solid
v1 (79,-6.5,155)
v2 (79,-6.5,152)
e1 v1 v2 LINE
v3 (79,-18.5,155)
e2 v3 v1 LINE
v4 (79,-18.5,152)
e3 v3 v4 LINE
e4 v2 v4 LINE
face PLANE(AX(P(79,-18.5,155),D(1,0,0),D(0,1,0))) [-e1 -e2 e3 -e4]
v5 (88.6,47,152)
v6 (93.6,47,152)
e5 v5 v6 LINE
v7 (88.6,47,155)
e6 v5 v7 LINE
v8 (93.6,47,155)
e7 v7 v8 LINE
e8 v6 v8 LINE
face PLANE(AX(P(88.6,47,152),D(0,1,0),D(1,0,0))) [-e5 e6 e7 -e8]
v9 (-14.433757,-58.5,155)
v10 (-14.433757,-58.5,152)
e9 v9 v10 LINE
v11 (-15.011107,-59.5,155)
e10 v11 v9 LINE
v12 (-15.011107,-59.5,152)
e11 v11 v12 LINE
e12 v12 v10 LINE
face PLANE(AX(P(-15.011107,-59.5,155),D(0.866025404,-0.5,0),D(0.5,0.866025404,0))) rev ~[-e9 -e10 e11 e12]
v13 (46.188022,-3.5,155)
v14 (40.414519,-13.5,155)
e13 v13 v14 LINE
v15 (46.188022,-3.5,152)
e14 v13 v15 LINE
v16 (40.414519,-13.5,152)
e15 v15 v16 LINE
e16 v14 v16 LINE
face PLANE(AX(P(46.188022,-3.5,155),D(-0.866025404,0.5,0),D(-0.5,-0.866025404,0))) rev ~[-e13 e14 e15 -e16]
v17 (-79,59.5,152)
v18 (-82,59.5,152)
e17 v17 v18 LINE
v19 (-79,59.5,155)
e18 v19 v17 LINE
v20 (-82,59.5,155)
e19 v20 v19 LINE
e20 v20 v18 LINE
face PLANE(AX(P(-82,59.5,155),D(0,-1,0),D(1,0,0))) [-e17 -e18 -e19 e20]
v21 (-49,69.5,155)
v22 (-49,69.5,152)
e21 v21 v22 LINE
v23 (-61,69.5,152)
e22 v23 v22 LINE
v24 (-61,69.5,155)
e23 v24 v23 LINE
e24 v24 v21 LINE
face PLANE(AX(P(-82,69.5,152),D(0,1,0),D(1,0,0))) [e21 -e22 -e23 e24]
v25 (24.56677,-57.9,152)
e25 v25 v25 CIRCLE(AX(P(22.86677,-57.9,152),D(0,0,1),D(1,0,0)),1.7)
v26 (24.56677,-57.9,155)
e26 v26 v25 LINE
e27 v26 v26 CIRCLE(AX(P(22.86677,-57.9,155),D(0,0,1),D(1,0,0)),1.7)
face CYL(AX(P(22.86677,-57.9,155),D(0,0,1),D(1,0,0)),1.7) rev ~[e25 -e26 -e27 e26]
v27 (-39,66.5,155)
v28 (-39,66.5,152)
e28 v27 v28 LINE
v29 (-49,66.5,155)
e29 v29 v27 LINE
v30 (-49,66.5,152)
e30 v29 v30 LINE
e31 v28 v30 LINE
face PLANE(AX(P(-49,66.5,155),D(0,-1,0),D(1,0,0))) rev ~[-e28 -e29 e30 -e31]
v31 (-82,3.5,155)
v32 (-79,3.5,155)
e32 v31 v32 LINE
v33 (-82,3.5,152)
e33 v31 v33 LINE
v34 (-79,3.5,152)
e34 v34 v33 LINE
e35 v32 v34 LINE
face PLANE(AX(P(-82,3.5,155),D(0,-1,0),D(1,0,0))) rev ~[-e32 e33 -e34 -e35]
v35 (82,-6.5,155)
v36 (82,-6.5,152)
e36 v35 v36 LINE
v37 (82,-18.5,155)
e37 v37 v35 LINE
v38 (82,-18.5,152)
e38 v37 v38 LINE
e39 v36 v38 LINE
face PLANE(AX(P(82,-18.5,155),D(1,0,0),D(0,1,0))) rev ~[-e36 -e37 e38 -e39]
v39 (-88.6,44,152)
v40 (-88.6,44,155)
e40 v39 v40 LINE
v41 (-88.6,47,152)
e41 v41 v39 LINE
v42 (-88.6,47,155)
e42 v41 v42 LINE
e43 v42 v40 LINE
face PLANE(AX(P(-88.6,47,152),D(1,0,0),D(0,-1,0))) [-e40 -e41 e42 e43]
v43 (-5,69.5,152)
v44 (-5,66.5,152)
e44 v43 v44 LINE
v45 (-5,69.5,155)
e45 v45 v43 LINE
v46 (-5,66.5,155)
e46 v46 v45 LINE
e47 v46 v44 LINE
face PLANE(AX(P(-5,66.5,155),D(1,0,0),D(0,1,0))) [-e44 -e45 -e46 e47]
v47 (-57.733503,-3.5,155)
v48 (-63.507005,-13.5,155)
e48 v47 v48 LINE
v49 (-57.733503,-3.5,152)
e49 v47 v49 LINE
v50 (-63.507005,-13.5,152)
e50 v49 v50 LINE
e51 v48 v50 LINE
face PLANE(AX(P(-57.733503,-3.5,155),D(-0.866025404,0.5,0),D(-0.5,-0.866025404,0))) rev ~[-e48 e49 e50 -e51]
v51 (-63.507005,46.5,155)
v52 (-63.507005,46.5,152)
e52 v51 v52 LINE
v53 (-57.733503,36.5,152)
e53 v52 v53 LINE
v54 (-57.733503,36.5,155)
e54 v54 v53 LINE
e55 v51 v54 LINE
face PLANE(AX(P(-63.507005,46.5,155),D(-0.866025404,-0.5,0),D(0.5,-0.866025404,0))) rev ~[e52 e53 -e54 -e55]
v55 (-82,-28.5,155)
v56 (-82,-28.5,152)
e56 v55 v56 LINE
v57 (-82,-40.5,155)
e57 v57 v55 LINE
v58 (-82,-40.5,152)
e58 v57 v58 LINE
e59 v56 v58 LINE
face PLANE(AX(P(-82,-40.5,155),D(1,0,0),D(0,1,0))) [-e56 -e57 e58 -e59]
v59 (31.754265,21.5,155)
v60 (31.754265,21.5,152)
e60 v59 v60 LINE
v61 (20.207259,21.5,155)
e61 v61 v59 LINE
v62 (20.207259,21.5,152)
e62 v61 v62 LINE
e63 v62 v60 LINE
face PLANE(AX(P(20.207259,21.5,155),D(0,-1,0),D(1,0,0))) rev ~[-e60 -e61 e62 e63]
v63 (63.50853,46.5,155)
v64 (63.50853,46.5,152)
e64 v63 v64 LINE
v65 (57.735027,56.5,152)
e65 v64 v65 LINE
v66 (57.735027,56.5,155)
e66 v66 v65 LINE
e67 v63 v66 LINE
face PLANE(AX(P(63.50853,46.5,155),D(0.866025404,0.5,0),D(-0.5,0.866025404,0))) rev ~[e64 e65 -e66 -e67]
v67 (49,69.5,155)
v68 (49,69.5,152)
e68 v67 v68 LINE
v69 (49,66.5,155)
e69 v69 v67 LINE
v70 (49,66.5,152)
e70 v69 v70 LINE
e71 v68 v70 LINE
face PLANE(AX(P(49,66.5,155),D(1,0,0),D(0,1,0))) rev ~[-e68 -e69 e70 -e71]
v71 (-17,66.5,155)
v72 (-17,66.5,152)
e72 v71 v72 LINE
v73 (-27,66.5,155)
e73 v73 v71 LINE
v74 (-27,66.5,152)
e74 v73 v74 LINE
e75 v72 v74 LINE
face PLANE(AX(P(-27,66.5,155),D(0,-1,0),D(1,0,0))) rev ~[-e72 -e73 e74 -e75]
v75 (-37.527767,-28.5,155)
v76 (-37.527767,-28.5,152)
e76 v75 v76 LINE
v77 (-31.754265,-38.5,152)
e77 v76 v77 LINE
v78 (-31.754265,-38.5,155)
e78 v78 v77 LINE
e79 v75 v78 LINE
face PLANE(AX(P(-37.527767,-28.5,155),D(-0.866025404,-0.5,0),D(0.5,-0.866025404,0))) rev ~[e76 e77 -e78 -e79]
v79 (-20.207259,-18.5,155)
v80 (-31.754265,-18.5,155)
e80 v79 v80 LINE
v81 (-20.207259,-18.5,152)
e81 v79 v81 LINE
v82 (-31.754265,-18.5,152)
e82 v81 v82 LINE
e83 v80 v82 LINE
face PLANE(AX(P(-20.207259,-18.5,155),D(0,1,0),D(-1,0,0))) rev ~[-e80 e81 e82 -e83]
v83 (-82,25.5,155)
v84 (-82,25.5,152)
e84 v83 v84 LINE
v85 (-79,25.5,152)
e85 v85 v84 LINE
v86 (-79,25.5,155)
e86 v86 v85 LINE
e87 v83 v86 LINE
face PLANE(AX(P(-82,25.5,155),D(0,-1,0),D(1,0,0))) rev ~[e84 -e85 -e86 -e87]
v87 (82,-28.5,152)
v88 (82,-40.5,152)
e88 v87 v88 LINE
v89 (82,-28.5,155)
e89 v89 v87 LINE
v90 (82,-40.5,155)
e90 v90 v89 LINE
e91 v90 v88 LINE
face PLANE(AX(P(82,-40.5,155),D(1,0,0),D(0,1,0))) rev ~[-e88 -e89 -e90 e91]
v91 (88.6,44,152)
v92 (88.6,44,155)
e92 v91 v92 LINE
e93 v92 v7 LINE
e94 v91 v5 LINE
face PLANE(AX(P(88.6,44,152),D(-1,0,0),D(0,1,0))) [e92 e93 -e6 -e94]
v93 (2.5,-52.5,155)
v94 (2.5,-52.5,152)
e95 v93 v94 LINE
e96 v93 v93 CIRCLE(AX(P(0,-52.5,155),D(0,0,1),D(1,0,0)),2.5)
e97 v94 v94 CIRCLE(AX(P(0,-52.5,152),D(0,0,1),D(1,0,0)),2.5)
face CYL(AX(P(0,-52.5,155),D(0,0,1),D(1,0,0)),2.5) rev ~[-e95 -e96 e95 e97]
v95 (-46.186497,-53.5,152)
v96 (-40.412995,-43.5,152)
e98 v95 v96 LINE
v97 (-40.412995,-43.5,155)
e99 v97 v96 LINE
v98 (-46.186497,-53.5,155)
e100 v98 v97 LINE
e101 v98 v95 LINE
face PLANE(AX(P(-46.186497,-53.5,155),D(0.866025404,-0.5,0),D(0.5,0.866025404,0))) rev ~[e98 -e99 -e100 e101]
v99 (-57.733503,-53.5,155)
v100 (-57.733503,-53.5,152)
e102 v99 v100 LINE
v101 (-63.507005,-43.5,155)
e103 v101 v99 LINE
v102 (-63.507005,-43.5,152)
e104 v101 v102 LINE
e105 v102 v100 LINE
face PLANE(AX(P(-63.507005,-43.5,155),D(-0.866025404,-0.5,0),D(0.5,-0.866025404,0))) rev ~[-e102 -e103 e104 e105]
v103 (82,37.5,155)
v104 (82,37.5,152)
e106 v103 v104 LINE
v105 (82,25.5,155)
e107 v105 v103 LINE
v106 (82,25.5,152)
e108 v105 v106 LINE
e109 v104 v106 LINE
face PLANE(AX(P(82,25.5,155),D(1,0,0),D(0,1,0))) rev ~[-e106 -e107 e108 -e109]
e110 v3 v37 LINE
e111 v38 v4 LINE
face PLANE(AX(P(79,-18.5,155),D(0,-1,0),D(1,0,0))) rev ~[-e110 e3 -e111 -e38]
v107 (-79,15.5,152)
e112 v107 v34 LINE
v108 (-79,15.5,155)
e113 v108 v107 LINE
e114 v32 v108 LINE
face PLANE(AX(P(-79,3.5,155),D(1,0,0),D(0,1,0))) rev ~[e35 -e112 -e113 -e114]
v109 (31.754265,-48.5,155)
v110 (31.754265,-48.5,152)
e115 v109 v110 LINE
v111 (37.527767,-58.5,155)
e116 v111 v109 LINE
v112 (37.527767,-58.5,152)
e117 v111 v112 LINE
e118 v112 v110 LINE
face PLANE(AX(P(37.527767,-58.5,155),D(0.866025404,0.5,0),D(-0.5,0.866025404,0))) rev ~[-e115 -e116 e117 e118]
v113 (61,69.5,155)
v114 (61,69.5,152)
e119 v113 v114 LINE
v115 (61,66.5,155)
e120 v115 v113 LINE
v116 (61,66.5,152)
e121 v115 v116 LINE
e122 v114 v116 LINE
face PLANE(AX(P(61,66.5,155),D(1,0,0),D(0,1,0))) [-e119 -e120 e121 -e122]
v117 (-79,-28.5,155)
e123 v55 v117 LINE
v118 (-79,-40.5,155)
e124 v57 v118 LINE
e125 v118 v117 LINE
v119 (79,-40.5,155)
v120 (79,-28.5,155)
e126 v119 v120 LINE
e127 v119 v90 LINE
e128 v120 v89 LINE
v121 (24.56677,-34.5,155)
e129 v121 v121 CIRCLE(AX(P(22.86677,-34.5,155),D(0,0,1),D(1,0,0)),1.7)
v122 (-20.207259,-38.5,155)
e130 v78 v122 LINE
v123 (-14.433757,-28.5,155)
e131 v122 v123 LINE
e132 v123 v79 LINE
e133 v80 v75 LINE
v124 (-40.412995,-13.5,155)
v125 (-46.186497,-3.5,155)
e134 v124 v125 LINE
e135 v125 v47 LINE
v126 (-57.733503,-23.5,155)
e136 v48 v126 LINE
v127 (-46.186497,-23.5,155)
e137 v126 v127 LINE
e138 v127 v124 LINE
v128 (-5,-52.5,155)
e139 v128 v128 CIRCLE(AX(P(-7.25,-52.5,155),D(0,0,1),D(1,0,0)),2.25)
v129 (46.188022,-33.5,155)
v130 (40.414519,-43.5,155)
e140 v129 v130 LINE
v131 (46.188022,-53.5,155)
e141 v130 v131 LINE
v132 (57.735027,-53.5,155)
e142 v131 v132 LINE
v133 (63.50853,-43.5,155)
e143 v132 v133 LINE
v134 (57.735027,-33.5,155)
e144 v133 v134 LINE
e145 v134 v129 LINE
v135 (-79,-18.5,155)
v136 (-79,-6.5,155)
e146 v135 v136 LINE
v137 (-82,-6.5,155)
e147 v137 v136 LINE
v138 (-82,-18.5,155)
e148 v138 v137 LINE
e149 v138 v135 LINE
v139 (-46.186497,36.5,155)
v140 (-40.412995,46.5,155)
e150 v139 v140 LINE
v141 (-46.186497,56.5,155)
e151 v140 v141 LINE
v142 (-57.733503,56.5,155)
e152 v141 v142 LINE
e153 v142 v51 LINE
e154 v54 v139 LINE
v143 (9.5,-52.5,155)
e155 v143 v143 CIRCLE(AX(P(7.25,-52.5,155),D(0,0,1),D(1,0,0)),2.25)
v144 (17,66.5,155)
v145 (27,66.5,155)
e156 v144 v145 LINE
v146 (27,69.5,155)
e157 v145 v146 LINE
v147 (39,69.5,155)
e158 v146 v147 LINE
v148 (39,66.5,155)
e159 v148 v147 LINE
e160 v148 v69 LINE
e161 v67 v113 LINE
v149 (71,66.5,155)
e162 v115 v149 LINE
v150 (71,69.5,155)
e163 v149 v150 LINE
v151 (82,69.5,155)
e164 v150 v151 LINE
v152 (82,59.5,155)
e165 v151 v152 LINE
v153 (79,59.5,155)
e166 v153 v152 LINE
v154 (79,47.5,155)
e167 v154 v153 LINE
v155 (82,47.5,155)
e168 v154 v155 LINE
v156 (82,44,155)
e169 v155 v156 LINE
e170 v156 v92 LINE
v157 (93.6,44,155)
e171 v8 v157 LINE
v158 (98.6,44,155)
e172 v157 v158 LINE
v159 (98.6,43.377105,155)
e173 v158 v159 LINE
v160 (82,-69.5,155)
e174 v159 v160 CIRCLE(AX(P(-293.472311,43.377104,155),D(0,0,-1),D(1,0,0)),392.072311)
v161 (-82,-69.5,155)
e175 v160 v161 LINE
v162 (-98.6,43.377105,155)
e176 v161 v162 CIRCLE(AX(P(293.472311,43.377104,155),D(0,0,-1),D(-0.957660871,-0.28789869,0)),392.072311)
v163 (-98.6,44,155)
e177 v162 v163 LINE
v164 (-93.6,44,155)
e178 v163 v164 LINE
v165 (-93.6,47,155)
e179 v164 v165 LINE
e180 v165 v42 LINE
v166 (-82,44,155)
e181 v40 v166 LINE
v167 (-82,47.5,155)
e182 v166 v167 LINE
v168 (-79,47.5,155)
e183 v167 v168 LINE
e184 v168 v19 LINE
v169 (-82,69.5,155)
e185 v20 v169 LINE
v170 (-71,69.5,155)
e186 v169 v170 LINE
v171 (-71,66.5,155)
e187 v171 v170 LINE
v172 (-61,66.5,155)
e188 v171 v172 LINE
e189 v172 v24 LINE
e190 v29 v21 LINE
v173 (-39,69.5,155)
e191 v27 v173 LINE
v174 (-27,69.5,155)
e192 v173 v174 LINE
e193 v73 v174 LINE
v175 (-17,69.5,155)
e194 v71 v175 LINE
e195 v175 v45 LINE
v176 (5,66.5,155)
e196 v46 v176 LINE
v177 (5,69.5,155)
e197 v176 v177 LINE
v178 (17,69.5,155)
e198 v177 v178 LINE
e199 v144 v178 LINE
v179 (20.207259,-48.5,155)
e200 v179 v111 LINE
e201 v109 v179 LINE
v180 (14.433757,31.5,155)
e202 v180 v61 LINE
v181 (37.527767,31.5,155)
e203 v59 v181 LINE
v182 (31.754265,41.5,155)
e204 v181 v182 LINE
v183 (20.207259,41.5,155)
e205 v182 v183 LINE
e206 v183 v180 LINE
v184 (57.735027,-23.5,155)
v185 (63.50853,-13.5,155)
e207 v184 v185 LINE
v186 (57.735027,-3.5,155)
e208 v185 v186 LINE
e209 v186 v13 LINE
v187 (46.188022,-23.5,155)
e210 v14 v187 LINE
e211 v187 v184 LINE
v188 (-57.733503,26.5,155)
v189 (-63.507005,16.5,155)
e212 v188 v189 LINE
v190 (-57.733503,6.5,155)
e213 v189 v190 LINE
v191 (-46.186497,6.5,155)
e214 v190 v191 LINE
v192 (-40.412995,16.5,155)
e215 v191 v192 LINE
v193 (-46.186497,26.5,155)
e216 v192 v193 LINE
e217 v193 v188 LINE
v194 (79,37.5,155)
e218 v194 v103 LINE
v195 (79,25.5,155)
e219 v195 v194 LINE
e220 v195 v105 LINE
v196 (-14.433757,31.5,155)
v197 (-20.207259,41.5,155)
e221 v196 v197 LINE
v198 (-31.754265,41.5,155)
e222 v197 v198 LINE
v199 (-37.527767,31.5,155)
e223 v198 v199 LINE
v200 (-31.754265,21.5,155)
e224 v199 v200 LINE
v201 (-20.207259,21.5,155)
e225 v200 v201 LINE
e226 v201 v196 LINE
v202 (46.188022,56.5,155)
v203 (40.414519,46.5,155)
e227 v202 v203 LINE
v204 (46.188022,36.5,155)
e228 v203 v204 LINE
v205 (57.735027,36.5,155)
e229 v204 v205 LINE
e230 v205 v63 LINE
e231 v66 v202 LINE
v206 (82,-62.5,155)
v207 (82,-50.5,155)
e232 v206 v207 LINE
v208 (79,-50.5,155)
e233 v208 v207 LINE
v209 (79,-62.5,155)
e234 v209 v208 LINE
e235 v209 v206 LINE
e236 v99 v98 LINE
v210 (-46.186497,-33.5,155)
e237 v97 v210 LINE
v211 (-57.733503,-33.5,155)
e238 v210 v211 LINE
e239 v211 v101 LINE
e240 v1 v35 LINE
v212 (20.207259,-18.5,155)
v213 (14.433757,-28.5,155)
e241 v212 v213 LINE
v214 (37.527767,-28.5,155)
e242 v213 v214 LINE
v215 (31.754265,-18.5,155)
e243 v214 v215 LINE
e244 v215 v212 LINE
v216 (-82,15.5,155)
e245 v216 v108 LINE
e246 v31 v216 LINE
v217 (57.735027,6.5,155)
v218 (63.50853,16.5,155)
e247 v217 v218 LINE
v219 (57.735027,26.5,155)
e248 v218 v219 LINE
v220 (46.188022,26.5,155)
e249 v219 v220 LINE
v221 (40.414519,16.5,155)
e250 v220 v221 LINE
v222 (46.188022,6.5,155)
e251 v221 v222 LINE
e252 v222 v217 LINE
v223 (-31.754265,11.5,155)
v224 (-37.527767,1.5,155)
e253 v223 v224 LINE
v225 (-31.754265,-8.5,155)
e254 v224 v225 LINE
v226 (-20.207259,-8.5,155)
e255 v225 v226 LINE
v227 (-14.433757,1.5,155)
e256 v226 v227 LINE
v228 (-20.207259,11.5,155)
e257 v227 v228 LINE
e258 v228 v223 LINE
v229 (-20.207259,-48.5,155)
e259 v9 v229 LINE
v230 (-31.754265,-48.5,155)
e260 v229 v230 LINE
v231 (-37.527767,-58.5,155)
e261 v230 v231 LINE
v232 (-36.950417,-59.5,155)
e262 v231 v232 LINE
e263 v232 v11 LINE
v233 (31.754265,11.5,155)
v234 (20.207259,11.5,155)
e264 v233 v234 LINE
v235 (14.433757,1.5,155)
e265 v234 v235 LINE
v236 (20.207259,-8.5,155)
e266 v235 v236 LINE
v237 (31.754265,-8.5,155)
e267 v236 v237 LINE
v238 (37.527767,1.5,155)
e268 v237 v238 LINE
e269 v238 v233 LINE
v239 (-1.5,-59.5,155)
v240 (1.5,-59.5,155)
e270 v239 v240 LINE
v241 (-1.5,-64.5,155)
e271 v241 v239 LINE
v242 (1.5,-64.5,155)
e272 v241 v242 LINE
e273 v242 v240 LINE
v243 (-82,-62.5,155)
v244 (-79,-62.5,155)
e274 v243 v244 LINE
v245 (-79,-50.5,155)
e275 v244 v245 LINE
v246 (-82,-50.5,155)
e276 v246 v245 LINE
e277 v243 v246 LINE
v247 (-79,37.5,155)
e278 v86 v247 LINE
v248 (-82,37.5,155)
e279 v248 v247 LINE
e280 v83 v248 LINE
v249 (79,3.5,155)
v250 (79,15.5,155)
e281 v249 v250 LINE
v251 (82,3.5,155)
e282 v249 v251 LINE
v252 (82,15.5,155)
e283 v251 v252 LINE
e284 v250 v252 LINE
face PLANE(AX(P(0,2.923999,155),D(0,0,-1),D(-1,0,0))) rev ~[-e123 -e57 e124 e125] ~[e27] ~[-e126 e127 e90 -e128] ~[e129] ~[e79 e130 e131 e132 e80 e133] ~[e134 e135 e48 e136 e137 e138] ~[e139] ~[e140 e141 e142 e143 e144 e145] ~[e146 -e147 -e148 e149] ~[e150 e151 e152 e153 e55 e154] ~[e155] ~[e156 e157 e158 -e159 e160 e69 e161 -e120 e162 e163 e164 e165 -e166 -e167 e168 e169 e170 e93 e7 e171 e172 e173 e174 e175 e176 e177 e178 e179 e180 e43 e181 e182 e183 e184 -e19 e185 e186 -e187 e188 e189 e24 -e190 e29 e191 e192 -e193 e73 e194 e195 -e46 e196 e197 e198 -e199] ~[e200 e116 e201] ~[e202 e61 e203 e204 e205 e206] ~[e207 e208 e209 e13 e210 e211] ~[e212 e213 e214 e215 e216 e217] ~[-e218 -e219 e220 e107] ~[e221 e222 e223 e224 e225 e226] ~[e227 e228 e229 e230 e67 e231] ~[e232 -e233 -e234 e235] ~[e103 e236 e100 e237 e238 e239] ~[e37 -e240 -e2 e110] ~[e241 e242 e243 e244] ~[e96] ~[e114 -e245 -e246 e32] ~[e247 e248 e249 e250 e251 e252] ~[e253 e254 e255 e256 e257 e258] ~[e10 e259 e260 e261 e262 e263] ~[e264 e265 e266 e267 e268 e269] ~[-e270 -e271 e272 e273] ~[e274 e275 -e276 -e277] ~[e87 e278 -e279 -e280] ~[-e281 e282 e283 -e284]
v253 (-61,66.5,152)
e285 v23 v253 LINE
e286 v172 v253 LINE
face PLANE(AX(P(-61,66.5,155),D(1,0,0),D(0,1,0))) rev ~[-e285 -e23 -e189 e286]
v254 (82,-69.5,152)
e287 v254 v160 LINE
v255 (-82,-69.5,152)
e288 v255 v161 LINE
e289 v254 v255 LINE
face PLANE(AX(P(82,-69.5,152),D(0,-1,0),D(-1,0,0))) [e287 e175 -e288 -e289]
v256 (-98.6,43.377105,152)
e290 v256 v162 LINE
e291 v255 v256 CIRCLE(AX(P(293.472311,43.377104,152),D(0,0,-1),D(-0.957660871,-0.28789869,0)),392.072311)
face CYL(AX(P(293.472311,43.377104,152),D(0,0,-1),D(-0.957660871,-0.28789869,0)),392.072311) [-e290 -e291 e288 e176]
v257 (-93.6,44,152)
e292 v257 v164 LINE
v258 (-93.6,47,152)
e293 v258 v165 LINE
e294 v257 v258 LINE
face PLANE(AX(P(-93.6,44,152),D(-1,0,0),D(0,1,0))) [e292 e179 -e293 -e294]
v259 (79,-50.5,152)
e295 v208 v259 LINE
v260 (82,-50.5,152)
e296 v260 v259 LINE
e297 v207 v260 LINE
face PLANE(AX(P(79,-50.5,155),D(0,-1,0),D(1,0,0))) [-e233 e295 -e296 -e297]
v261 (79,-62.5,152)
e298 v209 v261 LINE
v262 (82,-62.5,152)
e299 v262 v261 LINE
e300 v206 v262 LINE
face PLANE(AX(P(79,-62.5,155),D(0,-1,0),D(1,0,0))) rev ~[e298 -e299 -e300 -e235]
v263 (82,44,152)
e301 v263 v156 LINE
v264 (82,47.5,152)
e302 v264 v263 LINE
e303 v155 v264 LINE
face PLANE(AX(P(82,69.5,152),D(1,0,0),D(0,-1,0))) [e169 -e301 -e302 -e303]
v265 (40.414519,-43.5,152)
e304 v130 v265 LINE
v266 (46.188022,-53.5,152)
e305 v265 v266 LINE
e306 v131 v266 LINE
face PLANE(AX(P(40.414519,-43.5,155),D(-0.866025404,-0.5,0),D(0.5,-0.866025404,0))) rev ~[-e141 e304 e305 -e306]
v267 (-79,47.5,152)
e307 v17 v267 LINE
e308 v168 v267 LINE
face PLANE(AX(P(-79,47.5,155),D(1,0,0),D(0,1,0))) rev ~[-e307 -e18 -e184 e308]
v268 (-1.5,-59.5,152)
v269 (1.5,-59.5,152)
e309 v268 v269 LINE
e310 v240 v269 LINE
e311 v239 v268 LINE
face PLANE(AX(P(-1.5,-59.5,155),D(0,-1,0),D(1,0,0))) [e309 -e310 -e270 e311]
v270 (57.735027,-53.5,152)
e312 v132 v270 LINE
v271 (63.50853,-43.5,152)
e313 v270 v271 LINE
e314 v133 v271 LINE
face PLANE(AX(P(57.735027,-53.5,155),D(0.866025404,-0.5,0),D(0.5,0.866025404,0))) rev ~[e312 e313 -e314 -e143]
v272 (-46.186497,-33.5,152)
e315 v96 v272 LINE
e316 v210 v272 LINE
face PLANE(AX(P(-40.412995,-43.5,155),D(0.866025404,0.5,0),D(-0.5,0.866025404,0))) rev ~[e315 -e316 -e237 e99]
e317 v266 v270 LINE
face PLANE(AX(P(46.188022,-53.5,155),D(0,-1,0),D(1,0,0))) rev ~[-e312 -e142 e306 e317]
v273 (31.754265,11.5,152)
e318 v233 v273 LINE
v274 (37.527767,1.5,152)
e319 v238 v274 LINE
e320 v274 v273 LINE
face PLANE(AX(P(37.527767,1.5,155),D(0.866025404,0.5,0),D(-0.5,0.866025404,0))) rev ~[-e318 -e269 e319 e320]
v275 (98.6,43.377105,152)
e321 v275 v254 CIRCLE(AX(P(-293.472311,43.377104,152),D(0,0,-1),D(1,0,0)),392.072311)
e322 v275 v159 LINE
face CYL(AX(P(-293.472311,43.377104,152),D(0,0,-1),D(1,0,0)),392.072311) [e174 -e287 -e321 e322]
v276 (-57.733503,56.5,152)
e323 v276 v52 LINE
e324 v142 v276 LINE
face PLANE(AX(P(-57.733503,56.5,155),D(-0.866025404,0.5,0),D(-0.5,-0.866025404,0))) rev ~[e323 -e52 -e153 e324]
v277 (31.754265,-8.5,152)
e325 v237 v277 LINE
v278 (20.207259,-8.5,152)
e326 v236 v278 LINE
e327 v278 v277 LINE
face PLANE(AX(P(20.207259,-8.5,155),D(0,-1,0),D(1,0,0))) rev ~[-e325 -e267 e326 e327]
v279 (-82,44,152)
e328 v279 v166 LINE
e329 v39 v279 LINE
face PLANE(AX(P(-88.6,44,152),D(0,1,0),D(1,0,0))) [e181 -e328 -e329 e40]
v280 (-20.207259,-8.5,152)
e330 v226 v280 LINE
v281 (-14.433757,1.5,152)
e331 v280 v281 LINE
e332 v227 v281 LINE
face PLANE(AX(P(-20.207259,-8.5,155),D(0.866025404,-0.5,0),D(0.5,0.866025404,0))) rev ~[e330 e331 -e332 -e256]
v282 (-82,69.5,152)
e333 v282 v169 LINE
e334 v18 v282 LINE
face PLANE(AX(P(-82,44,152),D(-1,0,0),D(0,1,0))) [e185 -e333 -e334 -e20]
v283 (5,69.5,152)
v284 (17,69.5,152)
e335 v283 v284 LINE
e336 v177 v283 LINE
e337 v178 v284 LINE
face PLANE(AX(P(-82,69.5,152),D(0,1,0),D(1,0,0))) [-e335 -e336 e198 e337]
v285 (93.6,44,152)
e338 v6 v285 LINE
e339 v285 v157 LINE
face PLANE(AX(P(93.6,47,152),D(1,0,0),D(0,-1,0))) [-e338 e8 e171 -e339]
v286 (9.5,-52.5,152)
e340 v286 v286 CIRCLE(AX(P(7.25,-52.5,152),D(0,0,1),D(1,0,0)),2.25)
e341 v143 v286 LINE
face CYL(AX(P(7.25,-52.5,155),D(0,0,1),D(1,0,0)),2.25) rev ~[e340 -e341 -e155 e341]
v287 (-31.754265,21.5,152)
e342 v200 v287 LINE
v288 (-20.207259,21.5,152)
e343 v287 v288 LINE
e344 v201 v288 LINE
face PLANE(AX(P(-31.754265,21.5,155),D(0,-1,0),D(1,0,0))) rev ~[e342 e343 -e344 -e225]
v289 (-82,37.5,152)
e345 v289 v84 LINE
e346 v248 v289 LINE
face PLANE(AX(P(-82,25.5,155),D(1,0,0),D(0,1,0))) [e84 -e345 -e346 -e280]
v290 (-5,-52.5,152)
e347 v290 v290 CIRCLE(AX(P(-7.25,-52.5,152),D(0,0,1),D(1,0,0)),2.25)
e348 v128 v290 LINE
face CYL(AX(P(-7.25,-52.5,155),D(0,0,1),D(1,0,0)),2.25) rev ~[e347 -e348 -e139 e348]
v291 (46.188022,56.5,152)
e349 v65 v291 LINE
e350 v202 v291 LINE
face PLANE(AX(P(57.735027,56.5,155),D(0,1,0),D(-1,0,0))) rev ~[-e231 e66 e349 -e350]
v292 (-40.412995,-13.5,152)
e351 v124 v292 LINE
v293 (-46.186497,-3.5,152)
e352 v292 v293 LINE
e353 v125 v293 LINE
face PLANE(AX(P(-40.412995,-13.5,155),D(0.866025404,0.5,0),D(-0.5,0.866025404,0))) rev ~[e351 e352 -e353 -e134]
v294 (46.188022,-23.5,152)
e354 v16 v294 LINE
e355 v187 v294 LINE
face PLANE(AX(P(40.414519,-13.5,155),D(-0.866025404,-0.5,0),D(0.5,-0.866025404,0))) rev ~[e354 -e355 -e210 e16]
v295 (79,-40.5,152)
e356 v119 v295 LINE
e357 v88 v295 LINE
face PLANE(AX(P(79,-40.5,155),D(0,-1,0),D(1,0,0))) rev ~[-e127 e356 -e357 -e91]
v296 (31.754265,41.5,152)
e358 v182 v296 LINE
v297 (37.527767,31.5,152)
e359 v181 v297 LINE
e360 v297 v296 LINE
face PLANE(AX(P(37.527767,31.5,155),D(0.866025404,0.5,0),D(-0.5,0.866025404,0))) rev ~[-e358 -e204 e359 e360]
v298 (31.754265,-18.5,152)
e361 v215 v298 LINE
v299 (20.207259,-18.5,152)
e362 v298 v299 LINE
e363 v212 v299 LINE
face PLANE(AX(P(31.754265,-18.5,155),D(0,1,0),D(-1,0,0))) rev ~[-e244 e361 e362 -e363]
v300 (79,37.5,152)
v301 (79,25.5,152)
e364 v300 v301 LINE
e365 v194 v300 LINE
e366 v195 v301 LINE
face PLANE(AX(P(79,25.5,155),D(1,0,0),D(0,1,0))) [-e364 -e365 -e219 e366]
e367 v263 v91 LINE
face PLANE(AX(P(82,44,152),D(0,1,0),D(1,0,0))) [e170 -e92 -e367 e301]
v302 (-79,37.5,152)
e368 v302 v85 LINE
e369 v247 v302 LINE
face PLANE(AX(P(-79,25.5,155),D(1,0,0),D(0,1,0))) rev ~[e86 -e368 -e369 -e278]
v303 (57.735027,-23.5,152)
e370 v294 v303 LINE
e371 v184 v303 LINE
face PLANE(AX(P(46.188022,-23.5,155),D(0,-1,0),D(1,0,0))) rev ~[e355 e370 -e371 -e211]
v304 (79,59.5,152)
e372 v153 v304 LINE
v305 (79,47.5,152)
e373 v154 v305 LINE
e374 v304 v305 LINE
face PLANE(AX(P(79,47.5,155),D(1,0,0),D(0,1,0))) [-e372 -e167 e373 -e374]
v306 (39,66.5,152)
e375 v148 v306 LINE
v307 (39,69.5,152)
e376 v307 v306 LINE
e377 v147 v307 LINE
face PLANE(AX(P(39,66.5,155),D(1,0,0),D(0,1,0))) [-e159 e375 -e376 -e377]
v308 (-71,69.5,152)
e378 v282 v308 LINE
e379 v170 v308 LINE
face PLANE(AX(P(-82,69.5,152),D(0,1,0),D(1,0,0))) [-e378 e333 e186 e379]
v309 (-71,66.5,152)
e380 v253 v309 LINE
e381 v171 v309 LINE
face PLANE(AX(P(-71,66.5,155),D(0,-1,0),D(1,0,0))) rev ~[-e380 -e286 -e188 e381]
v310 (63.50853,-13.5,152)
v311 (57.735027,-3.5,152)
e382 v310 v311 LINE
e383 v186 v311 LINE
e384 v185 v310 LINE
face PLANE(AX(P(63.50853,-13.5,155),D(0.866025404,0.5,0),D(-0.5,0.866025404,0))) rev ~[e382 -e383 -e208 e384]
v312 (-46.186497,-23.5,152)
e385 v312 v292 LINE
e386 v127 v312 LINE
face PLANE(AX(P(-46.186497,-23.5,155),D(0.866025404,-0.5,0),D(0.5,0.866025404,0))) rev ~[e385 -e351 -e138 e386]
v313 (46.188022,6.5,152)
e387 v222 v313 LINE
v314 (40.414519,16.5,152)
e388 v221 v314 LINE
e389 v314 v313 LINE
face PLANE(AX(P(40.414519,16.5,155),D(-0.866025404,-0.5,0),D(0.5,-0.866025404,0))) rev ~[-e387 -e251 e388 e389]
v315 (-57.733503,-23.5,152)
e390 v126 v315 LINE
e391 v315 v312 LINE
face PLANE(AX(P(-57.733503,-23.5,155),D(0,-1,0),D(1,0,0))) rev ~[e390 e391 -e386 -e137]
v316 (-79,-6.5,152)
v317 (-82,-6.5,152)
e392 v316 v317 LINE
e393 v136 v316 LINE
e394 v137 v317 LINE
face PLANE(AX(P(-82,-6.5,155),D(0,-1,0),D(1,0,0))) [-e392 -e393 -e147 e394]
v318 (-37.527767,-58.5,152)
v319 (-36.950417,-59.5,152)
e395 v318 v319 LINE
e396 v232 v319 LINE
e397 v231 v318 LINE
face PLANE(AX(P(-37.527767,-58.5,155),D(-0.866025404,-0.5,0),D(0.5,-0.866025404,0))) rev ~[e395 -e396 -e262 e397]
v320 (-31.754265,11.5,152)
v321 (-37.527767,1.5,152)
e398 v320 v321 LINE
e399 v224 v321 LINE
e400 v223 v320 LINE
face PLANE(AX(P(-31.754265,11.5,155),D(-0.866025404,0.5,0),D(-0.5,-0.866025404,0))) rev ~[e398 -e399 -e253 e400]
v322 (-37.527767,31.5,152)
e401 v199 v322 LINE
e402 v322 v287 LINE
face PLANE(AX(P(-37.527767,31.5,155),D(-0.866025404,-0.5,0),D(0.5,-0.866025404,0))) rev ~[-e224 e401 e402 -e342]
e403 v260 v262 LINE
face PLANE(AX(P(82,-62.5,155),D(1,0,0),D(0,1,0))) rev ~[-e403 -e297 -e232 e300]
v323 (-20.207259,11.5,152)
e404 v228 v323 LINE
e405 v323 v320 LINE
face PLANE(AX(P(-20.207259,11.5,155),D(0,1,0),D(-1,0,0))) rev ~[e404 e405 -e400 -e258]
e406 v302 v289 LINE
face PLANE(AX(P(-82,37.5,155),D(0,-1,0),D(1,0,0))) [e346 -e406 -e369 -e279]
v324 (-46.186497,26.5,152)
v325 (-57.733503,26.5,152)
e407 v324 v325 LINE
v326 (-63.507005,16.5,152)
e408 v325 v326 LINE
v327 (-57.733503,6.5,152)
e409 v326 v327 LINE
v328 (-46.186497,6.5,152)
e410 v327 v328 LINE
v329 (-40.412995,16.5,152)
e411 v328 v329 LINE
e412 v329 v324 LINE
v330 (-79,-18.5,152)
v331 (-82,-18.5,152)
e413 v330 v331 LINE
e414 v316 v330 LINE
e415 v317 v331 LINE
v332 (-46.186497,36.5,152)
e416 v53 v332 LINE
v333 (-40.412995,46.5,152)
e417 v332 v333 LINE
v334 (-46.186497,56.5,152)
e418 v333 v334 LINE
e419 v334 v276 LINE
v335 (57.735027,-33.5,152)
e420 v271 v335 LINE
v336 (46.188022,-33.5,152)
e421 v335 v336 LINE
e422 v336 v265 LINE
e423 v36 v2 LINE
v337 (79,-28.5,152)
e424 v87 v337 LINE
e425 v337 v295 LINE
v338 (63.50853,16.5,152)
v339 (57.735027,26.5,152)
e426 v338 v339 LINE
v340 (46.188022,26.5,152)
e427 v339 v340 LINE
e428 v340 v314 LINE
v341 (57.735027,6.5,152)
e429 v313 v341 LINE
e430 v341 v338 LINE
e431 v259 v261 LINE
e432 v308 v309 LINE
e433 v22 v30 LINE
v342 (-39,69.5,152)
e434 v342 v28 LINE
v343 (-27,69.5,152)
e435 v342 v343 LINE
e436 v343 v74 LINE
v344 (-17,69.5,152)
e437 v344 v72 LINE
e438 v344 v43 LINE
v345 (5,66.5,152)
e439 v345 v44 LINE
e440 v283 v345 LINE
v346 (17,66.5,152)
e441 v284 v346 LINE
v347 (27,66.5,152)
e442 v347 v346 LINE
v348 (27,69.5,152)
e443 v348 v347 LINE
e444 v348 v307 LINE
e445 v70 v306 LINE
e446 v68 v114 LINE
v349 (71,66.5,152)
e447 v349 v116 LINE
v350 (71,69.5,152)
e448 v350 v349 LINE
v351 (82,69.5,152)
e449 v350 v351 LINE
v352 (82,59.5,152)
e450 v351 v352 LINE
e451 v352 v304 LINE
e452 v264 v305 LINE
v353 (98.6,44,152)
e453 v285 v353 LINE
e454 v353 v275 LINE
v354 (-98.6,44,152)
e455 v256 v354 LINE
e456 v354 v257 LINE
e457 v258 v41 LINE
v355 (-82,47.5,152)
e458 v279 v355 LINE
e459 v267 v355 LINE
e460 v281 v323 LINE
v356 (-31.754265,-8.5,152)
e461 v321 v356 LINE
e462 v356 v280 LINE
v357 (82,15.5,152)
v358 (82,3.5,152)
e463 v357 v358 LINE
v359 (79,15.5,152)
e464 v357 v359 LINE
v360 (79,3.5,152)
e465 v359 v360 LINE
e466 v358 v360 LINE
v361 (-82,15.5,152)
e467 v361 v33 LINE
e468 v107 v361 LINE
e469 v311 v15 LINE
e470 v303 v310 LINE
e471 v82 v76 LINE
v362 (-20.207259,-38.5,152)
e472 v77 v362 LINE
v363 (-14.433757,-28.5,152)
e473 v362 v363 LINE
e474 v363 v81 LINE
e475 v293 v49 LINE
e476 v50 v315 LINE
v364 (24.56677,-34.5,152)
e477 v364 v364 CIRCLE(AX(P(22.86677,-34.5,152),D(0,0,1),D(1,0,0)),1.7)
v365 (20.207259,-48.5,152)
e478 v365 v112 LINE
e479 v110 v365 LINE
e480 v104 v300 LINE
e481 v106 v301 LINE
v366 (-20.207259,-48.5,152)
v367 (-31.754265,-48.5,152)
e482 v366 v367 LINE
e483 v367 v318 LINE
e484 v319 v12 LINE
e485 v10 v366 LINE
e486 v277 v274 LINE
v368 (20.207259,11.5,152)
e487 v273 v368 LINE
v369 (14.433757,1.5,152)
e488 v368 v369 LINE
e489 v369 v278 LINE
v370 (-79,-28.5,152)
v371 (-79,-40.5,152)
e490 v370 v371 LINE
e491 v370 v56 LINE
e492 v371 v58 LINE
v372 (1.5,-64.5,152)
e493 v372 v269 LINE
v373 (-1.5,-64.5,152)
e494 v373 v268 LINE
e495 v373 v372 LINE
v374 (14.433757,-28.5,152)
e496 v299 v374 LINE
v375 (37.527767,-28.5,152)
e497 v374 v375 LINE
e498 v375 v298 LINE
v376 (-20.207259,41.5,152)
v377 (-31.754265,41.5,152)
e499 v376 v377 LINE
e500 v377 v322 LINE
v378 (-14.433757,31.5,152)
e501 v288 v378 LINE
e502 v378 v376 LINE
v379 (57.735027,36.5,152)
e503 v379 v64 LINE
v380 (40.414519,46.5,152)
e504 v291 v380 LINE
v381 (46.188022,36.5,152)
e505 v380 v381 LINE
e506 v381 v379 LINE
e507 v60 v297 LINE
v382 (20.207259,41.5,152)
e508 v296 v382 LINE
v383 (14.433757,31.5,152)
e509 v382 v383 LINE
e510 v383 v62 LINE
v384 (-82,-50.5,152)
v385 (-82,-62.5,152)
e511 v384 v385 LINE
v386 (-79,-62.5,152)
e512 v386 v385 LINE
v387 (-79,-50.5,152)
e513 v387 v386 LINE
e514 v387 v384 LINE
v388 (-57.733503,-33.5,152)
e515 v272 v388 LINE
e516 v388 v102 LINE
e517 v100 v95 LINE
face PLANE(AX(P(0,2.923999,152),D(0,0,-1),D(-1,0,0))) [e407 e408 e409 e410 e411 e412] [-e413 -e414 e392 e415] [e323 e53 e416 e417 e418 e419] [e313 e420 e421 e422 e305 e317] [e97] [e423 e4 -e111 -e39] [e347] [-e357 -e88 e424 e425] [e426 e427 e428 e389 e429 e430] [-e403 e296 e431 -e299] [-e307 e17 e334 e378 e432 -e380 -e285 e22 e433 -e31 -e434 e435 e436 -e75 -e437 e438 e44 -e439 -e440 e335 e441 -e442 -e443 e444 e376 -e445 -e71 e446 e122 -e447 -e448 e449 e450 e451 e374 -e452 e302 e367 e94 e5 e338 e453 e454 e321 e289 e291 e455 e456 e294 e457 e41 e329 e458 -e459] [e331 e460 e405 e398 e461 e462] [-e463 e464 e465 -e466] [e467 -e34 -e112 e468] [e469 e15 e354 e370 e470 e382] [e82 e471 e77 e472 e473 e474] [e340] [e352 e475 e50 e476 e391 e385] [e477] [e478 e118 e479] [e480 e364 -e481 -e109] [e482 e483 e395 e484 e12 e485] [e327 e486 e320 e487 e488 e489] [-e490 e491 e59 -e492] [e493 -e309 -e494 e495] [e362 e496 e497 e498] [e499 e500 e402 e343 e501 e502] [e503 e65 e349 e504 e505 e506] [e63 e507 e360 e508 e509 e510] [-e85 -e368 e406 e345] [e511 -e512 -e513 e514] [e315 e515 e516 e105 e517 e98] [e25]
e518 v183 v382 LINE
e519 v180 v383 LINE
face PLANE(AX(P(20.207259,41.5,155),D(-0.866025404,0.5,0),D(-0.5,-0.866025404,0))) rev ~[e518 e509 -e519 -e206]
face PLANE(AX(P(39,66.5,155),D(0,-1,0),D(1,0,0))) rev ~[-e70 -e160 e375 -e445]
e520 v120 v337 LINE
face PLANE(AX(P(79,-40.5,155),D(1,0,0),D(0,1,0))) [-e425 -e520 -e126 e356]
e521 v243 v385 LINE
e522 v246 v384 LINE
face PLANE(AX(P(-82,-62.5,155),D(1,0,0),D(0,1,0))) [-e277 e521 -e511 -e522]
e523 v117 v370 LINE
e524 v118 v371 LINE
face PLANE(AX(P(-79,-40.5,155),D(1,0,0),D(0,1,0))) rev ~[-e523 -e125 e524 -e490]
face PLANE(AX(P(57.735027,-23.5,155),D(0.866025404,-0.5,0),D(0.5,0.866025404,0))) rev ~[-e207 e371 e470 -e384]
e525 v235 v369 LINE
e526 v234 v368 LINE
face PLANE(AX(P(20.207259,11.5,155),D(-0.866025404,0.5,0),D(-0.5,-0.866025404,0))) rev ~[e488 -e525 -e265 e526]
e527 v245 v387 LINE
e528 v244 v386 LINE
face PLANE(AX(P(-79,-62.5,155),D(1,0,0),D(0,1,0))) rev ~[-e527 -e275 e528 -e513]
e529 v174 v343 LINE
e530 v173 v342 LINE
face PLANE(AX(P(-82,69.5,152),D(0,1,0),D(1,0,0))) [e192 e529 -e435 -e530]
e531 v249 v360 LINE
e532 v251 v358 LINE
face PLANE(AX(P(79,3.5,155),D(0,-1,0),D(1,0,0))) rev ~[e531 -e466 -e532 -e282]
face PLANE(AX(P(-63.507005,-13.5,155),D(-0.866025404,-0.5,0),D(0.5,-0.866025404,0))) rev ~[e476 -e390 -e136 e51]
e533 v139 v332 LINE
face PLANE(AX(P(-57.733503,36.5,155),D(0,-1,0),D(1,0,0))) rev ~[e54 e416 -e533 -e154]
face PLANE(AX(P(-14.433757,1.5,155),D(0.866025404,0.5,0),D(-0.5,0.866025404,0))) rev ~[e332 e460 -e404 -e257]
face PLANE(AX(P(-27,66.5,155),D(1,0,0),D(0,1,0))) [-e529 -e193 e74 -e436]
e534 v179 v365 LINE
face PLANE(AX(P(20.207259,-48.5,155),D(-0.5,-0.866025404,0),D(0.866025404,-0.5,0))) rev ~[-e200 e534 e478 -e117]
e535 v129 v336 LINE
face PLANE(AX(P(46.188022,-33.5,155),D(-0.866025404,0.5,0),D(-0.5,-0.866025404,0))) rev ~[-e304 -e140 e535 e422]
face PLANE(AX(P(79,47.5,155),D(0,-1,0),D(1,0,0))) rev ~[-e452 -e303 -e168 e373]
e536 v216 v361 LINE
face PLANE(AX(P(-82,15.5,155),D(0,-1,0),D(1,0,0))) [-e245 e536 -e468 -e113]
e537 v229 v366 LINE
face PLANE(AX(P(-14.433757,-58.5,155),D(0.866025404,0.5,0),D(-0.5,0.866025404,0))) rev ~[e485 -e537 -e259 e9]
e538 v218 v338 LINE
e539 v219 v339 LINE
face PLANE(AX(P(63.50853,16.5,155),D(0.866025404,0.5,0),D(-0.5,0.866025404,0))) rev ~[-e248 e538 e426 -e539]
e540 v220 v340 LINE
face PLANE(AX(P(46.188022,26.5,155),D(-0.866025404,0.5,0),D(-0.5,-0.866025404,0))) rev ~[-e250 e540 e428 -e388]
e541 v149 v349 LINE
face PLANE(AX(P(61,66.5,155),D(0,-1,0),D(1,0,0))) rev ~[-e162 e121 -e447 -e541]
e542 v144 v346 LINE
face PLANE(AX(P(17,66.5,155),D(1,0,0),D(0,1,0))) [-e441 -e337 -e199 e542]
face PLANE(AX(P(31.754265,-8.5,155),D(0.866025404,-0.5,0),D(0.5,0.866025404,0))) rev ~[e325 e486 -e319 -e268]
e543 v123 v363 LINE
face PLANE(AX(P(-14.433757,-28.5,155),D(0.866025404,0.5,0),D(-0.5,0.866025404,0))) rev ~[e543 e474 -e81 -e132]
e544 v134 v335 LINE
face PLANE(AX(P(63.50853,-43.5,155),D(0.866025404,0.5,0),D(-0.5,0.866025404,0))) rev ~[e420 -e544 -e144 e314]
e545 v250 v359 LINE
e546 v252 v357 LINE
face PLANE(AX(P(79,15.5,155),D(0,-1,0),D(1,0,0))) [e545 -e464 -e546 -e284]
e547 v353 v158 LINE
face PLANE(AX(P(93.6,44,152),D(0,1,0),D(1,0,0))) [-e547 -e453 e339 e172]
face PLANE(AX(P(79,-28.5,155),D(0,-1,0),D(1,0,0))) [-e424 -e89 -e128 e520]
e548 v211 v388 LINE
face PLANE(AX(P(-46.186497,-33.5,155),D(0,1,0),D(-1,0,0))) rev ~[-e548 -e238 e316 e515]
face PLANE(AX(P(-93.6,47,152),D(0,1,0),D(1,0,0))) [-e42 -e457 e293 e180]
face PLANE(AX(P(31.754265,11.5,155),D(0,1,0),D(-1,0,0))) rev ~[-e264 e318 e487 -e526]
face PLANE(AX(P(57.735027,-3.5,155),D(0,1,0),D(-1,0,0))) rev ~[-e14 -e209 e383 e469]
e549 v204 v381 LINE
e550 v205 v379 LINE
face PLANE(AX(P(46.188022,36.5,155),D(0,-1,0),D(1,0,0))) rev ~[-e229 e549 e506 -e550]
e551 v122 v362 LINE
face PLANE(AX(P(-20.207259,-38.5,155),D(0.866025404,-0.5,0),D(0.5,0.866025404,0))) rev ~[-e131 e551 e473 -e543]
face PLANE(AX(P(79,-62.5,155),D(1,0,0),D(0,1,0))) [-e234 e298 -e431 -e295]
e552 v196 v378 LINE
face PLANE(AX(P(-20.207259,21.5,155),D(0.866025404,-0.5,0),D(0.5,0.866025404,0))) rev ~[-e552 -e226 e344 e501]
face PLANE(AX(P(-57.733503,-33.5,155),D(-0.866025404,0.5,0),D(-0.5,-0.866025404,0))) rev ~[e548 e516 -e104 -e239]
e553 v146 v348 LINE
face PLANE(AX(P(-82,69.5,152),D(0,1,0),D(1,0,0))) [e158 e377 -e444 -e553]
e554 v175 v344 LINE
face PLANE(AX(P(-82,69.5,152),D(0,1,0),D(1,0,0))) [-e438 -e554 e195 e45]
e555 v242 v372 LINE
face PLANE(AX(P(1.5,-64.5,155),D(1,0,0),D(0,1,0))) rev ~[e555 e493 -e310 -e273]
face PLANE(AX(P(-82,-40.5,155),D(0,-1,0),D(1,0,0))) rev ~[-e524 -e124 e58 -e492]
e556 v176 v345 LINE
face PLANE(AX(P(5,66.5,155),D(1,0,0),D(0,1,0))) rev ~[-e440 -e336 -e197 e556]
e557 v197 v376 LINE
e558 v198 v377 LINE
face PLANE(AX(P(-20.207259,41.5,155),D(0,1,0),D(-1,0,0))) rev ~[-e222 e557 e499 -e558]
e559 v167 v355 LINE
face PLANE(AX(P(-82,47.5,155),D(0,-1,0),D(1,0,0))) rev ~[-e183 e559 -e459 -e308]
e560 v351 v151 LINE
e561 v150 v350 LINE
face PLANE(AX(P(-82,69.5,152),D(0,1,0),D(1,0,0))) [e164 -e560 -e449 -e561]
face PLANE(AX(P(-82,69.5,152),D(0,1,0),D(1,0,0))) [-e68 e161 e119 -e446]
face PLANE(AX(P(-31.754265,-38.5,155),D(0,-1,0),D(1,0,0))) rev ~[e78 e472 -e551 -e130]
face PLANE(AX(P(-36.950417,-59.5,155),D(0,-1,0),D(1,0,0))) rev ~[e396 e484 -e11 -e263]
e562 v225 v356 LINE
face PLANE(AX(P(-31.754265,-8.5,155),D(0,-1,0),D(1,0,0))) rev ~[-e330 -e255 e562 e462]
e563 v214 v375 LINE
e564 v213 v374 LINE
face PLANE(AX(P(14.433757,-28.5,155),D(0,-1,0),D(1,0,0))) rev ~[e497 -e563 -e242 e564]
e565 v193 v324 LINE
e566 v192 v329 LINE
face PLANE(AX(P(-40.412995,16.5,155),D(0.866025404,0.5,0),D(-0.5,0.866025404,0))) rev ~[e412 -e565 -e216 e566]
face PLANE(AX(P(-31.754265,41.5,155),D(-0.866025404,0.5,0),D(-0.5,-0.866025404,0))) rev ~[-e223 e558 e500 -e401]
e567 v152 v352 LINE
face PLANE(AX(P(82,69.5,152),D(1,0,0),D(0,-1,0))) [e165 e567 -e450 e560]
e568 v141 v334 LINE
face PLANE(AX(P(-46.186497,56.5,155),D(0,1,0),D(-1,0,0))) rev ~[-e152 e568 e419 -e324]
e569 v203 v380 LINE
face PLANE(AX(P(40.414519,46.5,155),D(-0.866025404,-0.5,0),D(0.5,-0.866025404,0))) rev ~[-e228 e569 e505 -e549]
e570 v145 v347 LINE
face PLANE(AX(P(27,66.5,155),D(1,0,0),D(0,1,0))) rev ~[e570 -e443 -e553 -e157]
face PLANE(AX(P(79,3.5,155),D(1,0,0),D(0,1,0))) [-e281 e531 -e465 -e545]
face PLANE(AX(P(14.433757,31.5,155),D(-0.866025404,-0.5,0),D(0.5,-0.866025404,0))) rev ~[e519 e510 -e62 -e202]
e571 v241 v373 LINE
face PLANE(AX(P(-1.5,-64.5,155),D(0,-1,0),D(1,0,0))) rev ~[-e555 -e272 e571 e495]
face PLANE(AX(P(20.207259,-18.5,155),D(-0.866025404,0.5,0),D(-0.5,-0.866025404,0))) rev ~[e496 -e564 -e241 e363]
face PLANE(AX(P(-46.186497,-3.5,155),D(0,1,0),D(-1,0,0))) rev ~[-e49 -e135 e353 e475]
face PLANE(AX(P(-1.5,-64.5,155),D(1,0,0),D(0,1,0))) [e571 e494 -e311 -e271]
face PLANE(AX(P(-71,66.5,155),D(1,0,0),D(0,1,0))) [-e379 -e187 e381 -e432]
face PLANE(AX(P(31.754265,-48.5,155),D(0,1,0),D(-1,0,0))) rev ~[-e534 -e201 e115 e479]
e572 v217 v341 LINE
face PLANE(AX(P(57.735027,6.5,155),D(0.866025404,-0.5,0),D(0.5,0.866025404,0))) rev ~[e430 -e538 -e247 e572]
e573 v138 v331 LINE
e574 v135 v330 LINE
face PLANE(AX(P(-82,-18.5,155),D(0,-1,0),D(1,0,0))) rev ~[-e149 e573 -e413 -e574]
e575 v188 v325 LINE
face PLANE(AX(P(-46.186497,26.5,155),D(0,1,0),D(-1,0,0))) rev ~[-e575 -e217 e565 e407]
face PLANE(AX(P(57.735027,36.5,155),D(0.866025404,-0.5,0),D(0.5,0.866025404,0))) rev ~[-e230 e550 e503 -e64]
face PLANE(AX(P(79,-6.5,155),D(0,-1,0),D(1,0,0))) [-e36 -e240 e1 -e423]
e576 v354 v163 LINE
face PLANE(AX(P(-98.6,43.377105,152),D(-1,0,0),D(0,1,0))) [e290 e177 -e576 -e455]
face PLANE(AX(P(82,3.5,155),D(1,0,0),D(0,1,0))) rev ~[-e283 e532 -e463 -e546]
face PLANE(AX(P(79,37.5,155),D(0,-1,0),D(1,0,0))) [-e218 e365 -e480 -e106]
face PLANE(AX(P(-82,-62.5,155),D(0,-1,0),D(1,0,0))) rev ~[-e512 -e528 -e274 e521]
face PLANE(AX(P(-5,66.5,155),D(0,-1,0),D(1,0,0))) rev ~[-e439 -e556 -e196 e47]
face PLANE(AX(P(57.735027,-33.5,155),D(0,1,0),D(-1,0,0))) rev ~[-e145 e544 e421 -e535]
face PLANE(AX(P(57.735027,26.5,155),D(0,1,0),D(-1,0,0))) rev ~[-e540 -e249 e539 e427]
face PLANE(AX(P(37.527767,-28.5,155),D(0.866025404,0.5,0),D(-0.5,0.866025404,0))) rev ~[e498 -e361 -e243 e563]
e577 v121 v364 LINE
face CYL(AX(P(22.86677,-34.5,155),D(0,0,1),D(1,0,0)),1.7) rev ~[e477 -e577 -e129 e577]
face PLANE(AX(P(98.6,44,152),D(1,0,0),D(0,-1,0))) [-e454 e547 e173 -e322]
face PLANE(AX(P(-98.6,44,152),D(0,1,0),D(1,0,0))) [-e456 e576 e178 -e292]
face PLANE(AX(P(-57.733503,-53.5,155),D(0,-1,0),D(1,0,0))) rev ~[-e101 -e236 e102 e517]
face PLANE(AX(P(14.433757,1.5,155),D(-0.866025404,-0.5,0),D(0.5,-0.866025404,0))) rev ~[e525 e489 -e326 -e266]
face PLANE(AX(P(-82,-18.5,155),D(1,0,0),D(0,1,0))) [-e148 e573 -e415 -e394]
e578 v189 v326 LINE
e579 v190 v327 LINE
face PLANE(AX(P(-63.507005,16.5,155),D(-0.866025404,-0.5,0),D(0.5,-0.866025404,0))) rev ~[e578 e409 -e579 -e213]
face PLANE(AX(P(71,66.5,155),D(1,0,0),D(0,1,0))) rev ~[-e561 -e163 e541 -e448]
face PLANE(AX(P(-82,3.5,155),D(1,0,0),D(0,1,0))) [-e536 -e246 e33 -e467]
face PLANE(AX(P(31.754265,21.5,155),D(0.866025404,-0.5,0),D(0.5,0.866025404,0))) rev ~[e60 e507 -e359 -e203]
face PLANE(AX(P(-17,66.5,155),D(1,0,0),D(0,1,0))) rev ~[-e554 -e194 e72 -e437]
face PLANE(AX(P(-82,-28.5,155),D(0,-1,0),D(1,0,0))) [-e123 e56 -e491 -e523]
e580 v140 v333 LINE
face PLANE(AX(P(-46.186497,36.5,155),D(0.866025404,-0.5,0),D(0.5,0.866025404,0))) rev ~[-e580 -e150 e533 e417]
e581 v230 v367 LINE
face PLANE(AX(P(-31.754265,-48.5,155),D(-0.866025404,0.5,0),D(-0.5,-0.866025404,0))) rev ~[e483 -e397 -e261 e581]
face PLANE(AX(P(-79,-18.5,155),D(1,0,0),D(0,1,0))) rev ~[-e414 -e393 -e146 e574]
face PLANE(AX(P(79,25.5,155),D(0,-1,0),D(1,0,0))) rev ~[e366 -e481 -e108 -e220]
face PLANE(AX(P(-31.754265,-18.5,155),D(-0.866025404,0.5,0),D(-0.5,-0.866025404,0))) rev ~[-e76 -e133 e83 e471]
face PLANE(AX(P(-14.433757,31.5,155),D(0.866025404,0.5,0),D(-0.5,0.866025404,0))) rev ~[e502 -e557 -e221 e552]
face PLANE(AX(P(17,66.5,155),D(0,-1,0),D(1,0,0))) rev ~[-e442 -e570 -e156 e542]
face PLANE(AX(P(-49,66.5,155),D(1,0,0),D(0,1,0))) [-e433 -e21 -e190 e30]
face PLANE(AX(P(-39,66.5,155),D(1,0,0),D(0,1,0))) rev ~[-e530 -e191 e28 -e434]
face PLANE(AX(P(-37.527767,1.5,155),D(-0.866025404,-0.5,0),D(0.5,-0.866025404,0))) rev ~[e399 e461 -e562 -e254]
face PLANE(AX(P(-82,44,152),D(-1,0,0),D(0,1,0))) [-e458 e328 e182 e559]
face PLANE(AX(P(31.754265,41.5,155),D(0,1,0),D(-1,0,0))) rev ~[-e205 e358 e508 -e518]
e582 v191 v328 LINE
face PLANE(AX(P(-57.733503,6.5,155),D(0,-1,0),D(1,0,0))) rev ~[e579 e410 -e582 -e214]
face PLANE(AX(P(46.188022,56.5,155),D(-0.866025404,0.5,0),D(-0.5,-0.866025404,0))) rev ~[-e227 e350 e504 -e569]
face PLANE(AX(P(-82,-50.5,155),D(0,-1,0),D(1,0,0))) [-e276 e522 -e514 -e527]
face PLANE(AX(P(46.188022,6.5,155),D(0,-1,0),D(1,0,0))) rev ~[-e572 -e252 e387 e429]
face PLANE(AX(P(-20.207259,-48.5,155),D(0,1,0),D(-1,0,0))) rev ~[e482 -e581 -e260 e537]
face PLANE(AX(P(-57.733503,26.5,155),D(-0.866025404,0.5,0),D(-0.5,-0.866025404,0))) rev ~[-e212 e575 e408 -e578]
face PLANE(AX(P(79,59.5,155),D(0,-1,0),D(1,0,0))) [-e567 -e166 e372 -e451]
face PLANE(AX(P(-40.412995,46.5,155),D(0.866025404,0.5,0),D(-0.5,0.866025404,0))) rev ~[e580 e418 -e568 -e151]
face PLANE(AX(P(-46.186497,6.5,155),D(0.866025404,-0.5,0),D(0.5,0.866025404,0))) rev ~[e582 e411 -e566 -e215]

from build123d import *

# Parameters (mm, degrees)
BOSS_EXTRUDE1_DEPTH = 3
SKETCH2_W           = 10
SKETCH2_H           = 3
SKETCH2_W_2         = 3
SKETCH2_H_2         = 12
CUT_EXTRUDE1_DEPTH  = 10
SKETCH5_R           = 1.7
SKETCH5_W           = 3
SKETCH5_H           = 5
CUT_EXTRUDE2_DEPTH  = 3
SKETCH6_R           = 2.5
SKETCH6_R_2         = 2.25
CUT_EXTRUDE3_DEPTH  = 10


with BuildPart() as part:
    # Sketch1 → Boss-Extrude1 (new body)
    with BuildSketch(Plane.XY.offset(152)):
        with BuildLine():
            Line((-82, 69.5), (82, 69.5))
            Line((82, 69.5), (82, 44))
            Line((82, 44), (88.6, 44))
            Line((88.6, 44), (88.6, 47))
            Line((88.6, 47), (93.6, 47))
            Line((93.6, 47), (93.6, 44))
            Line((93.6, 44), (98.6, 44))
            Line((98.6, 44), (98.6, 43.377104502))
            ThreePointArc((98.6, 43.377104502), (94.427800977, -13.668492876), (82, -69.5))
            Line((82, -69.5), (-82, -69.5))
            ThreePointArc((-82, -69.5), (-94.427800977, -13.668492876), (-98.6, 43.377104502))
            Line((-98.6, 43.377104502), (-98.6, 44))
            Line((-98.6, 44), (-93.6, 44))
            Line((-93.6, 44), (-93.6, 47))
            Line((-93.6, 47), (-88.6, 47))
            Line((-88.6, 47), (-88.6, 44))
            Line((-88.6, 44), (-82, 44))
            Line((-82, 44), (-82, 69.5))
        make_face()
    extrude(amount=BOSS_EXTRUDE1_DEPTH)

    # Sketch2 → Cut-Extrude1 (cut)
    with BuildSketch(Plane.XY.offset(155)):
        with Locations((0, 68)):
            Rectangle(SKETCH2_W, SKETCH2_H)
        with Locations((-22, 68)):
            Rectangle(SKETCH2_W, SKETCH2_H)
        with Locations((22, 68)):
            Rectangle(SKETCH2_W, SKETCH2_H)
        with Locations((-44, 68)):
            Rectangle(SKETCH2_W, SKETCH2_H)
        with Locations((44, 68)):
            Rectangle(SKETCH2_W, SKETCH2_H)
        with Locations((-66, 68)):
            Rectangle(SKETCH2_W, SKETCH2_H)
        with Locations((66, 68)):
            Rectangle(SKETCH2_W, SKETCH2_H)
        with Locations((-80.5, 53.5)):
            Rectangle(SKETCH2_W_2, SKETCH2_H_2)
        with Locations((80.5, 53.5)):
            Rectangle(SKETCH2_W_2, SKETCH2_H_2)
        with Locations((-80.5, 31.5)):
            Rectangle(SKETCH2_W_2, SKETCH2_H_2)
        with Locations((-80.5, 9.5)):
            Rectangle(SKETCH2_W_2, SKETCH2_H_2)
        with Locations((-80.5, -12.5)):
            Rectangle(SKETCH2_W_2, SKETCH2_H_2)
        with Locations((-80.5, -34.5)):
            Rectangle(SKETCH2_W_2, SKETCH2_H_2)
        with Locations((-80.5, -56.5)):
            Rectangle(SKETCH2_W_2, SKETCH2_H_2)
        with Locations((80.5, -56.5)):
            Rectangle(SKETCH2_W_2, SKETCH2_H_2)
        with Locations((80.5, -34.5)):
            Rectangle(SKETCH2_W_2, SKETCH2_H_2)
        with Locations((80.5, -12.5)):
            Rectangle(SKETCH2_W_2, SKETCH2_H_2)
        with Locations((80.5, 9.5)):
            Rectangle(SKETCH2_W_2, SKETCH2_H_2)
        with Locations((80.5, 31.5)):
            Rectangle(SKETCH2_W_2, SKETCH2_H_2)
    extrude(amount=-CUT_EXTRUDE1_DEPTH, mode=Mode.SUBTRACT)

    # Sketch5 → Cut-Extrude2 (cut)
    with BuildSketch(Plane.XY.offset(155)):
        with Locations((22.86677044, -57.9)):
            Circle(SKETCH5_R)
        with Locations((22.86677044, -34.5)):
            Circle(SKETCH5_R)
        Polygon((63.508529611, 46.5), (57.735026919, 56.5), (46.188021535, 56.5), (40.414518843, 46.5), (46.188021535, 36.5), (57.735026919, 36.5), align=None)
        Polygon((31.754264805, 41.5), (20.207259422, 41.5), (14.43375673, 31.5), (20.207259422, 21.5), (31.754264805, 21.5), (37.527767497, 31.5), align=None)
        Polygon((-20.207259422, 41.5), (-31.754264805, 41.5), (-37.527767497, 31.5), (-31.754264805, 21.5), (-20.207259422, 21.5), (-14.43375673, 31.5), align=None)
        Polygon((-20.207259422, 11.5), (-31.754264805, 11.5), (-37.527767497, 1.5), (-31.754264805, -8.5), (-20.207259422, -8.5), (-14.43375673, 1.5), align=None)
        Polygon((31.754264805, 11.5), (20.207259422, 11.5), (14.43375673, 1.5), (20.207259422, -8.5), (31.754264805, -8.5), (37.527767497, 1.5), align=None)
        Polygon((63.508529611, 16.5), (57.735026919, 26.5), (46.188021535, 26.5), (40.414518843, 16.5), (46.188021535, 6.5), (57.735026919, 6.5), align=None)
        Polygon((-20.207259422, -18.5), (-31.754264805, -18.5), (-37.527767497, -28.5), (-31.754264805, -38.5), (-20.207259422, -38.5), (-14.43375673, -28.5), align=None)
        Polygon((31.754264805, -18.5), (20.207259422, -18.5), (14.43375673, -28.5), (37.527767497, -28.5), align=None)
        Polygon((63.508529611, -13.5), (57.735026919, -3.5), (46.188021535, -3.5), (40.414518843, -13.5), (46.188021535, -23.5), (57.735026919, -23.5), align=None)
        Polygon((-20.207259422, -48.5), (-31.754264805, -48.5), (-37.527767497, -58.5), (-36.950417228, -59.5), (-15.011106999, -59.5), (-14.43375673, -58.5), align=None)
        Polygon((31.754264805, -48.5), (20.207259422, -48.5), (37.527767497, -58.5), align=None)
        Polygon((63.508529611, -43.5), (57.735026919, -33.5), (46.188021535, -33.5), (40.414518843, -43.5), (46.188021535, -53.5), (57.735026919, -53.5), align=None)
        Polygon((-40.412994616, 46.5), (-46.186497308, 56.5), (-57.733502692, 56.5), (-63.507005384, 46.5), (-57.733502692, 36.5), (-46.186497308, 36.5), align=None)
        Polygon((-40.412994616, 16.5), (-46.186497308, 26.5), (-57.733502692, 26.5), (-63.507005384, 16.5), (-57.733502692, 6.5), (-46.186497308, 6.5), align=None)
        Polygon((-40.412994616, -13.5), (-46.186497308, -3.5), (-57.733502692, -3.5), (-63.507005384, -13.5), (-57.733502692, -23.5), (-46.186497308, -23.5), align=None)
        Polygon((-40.412994616, -43.5), (-46.186497308, -33.5), (-57.733502692, -33.5), (-63.507005384, -43.5), (-57.733502692, -53.5), (-46.186497308, -53.5), align=None)
        with Locations((0, -62)):
            Rectangle(SKETCH5_W, SKETCH5_H)
    extrude(amount=-CUT_EXTRUDE2_DEPTH, mode=Mode.SUBTRACT)

    # Sketch6 → Cut-Extrude3 (cut)
    with BuildSketch(Plane.XY.offset(155)):
        with Locations((0, -52.5)):
            Circle(SKETCH6_R)
        with Locations((-7.25, -52.5)):
            Circle(SKETCH6_R_2)
        with Locations((7.25, -52.5)):
            Circle(SKETCH6_R_2)
    extrude(amount=-CUT_EXTRUDE3_DEPTH, mode=Mode.SUBTRACT)


solid = part.part
